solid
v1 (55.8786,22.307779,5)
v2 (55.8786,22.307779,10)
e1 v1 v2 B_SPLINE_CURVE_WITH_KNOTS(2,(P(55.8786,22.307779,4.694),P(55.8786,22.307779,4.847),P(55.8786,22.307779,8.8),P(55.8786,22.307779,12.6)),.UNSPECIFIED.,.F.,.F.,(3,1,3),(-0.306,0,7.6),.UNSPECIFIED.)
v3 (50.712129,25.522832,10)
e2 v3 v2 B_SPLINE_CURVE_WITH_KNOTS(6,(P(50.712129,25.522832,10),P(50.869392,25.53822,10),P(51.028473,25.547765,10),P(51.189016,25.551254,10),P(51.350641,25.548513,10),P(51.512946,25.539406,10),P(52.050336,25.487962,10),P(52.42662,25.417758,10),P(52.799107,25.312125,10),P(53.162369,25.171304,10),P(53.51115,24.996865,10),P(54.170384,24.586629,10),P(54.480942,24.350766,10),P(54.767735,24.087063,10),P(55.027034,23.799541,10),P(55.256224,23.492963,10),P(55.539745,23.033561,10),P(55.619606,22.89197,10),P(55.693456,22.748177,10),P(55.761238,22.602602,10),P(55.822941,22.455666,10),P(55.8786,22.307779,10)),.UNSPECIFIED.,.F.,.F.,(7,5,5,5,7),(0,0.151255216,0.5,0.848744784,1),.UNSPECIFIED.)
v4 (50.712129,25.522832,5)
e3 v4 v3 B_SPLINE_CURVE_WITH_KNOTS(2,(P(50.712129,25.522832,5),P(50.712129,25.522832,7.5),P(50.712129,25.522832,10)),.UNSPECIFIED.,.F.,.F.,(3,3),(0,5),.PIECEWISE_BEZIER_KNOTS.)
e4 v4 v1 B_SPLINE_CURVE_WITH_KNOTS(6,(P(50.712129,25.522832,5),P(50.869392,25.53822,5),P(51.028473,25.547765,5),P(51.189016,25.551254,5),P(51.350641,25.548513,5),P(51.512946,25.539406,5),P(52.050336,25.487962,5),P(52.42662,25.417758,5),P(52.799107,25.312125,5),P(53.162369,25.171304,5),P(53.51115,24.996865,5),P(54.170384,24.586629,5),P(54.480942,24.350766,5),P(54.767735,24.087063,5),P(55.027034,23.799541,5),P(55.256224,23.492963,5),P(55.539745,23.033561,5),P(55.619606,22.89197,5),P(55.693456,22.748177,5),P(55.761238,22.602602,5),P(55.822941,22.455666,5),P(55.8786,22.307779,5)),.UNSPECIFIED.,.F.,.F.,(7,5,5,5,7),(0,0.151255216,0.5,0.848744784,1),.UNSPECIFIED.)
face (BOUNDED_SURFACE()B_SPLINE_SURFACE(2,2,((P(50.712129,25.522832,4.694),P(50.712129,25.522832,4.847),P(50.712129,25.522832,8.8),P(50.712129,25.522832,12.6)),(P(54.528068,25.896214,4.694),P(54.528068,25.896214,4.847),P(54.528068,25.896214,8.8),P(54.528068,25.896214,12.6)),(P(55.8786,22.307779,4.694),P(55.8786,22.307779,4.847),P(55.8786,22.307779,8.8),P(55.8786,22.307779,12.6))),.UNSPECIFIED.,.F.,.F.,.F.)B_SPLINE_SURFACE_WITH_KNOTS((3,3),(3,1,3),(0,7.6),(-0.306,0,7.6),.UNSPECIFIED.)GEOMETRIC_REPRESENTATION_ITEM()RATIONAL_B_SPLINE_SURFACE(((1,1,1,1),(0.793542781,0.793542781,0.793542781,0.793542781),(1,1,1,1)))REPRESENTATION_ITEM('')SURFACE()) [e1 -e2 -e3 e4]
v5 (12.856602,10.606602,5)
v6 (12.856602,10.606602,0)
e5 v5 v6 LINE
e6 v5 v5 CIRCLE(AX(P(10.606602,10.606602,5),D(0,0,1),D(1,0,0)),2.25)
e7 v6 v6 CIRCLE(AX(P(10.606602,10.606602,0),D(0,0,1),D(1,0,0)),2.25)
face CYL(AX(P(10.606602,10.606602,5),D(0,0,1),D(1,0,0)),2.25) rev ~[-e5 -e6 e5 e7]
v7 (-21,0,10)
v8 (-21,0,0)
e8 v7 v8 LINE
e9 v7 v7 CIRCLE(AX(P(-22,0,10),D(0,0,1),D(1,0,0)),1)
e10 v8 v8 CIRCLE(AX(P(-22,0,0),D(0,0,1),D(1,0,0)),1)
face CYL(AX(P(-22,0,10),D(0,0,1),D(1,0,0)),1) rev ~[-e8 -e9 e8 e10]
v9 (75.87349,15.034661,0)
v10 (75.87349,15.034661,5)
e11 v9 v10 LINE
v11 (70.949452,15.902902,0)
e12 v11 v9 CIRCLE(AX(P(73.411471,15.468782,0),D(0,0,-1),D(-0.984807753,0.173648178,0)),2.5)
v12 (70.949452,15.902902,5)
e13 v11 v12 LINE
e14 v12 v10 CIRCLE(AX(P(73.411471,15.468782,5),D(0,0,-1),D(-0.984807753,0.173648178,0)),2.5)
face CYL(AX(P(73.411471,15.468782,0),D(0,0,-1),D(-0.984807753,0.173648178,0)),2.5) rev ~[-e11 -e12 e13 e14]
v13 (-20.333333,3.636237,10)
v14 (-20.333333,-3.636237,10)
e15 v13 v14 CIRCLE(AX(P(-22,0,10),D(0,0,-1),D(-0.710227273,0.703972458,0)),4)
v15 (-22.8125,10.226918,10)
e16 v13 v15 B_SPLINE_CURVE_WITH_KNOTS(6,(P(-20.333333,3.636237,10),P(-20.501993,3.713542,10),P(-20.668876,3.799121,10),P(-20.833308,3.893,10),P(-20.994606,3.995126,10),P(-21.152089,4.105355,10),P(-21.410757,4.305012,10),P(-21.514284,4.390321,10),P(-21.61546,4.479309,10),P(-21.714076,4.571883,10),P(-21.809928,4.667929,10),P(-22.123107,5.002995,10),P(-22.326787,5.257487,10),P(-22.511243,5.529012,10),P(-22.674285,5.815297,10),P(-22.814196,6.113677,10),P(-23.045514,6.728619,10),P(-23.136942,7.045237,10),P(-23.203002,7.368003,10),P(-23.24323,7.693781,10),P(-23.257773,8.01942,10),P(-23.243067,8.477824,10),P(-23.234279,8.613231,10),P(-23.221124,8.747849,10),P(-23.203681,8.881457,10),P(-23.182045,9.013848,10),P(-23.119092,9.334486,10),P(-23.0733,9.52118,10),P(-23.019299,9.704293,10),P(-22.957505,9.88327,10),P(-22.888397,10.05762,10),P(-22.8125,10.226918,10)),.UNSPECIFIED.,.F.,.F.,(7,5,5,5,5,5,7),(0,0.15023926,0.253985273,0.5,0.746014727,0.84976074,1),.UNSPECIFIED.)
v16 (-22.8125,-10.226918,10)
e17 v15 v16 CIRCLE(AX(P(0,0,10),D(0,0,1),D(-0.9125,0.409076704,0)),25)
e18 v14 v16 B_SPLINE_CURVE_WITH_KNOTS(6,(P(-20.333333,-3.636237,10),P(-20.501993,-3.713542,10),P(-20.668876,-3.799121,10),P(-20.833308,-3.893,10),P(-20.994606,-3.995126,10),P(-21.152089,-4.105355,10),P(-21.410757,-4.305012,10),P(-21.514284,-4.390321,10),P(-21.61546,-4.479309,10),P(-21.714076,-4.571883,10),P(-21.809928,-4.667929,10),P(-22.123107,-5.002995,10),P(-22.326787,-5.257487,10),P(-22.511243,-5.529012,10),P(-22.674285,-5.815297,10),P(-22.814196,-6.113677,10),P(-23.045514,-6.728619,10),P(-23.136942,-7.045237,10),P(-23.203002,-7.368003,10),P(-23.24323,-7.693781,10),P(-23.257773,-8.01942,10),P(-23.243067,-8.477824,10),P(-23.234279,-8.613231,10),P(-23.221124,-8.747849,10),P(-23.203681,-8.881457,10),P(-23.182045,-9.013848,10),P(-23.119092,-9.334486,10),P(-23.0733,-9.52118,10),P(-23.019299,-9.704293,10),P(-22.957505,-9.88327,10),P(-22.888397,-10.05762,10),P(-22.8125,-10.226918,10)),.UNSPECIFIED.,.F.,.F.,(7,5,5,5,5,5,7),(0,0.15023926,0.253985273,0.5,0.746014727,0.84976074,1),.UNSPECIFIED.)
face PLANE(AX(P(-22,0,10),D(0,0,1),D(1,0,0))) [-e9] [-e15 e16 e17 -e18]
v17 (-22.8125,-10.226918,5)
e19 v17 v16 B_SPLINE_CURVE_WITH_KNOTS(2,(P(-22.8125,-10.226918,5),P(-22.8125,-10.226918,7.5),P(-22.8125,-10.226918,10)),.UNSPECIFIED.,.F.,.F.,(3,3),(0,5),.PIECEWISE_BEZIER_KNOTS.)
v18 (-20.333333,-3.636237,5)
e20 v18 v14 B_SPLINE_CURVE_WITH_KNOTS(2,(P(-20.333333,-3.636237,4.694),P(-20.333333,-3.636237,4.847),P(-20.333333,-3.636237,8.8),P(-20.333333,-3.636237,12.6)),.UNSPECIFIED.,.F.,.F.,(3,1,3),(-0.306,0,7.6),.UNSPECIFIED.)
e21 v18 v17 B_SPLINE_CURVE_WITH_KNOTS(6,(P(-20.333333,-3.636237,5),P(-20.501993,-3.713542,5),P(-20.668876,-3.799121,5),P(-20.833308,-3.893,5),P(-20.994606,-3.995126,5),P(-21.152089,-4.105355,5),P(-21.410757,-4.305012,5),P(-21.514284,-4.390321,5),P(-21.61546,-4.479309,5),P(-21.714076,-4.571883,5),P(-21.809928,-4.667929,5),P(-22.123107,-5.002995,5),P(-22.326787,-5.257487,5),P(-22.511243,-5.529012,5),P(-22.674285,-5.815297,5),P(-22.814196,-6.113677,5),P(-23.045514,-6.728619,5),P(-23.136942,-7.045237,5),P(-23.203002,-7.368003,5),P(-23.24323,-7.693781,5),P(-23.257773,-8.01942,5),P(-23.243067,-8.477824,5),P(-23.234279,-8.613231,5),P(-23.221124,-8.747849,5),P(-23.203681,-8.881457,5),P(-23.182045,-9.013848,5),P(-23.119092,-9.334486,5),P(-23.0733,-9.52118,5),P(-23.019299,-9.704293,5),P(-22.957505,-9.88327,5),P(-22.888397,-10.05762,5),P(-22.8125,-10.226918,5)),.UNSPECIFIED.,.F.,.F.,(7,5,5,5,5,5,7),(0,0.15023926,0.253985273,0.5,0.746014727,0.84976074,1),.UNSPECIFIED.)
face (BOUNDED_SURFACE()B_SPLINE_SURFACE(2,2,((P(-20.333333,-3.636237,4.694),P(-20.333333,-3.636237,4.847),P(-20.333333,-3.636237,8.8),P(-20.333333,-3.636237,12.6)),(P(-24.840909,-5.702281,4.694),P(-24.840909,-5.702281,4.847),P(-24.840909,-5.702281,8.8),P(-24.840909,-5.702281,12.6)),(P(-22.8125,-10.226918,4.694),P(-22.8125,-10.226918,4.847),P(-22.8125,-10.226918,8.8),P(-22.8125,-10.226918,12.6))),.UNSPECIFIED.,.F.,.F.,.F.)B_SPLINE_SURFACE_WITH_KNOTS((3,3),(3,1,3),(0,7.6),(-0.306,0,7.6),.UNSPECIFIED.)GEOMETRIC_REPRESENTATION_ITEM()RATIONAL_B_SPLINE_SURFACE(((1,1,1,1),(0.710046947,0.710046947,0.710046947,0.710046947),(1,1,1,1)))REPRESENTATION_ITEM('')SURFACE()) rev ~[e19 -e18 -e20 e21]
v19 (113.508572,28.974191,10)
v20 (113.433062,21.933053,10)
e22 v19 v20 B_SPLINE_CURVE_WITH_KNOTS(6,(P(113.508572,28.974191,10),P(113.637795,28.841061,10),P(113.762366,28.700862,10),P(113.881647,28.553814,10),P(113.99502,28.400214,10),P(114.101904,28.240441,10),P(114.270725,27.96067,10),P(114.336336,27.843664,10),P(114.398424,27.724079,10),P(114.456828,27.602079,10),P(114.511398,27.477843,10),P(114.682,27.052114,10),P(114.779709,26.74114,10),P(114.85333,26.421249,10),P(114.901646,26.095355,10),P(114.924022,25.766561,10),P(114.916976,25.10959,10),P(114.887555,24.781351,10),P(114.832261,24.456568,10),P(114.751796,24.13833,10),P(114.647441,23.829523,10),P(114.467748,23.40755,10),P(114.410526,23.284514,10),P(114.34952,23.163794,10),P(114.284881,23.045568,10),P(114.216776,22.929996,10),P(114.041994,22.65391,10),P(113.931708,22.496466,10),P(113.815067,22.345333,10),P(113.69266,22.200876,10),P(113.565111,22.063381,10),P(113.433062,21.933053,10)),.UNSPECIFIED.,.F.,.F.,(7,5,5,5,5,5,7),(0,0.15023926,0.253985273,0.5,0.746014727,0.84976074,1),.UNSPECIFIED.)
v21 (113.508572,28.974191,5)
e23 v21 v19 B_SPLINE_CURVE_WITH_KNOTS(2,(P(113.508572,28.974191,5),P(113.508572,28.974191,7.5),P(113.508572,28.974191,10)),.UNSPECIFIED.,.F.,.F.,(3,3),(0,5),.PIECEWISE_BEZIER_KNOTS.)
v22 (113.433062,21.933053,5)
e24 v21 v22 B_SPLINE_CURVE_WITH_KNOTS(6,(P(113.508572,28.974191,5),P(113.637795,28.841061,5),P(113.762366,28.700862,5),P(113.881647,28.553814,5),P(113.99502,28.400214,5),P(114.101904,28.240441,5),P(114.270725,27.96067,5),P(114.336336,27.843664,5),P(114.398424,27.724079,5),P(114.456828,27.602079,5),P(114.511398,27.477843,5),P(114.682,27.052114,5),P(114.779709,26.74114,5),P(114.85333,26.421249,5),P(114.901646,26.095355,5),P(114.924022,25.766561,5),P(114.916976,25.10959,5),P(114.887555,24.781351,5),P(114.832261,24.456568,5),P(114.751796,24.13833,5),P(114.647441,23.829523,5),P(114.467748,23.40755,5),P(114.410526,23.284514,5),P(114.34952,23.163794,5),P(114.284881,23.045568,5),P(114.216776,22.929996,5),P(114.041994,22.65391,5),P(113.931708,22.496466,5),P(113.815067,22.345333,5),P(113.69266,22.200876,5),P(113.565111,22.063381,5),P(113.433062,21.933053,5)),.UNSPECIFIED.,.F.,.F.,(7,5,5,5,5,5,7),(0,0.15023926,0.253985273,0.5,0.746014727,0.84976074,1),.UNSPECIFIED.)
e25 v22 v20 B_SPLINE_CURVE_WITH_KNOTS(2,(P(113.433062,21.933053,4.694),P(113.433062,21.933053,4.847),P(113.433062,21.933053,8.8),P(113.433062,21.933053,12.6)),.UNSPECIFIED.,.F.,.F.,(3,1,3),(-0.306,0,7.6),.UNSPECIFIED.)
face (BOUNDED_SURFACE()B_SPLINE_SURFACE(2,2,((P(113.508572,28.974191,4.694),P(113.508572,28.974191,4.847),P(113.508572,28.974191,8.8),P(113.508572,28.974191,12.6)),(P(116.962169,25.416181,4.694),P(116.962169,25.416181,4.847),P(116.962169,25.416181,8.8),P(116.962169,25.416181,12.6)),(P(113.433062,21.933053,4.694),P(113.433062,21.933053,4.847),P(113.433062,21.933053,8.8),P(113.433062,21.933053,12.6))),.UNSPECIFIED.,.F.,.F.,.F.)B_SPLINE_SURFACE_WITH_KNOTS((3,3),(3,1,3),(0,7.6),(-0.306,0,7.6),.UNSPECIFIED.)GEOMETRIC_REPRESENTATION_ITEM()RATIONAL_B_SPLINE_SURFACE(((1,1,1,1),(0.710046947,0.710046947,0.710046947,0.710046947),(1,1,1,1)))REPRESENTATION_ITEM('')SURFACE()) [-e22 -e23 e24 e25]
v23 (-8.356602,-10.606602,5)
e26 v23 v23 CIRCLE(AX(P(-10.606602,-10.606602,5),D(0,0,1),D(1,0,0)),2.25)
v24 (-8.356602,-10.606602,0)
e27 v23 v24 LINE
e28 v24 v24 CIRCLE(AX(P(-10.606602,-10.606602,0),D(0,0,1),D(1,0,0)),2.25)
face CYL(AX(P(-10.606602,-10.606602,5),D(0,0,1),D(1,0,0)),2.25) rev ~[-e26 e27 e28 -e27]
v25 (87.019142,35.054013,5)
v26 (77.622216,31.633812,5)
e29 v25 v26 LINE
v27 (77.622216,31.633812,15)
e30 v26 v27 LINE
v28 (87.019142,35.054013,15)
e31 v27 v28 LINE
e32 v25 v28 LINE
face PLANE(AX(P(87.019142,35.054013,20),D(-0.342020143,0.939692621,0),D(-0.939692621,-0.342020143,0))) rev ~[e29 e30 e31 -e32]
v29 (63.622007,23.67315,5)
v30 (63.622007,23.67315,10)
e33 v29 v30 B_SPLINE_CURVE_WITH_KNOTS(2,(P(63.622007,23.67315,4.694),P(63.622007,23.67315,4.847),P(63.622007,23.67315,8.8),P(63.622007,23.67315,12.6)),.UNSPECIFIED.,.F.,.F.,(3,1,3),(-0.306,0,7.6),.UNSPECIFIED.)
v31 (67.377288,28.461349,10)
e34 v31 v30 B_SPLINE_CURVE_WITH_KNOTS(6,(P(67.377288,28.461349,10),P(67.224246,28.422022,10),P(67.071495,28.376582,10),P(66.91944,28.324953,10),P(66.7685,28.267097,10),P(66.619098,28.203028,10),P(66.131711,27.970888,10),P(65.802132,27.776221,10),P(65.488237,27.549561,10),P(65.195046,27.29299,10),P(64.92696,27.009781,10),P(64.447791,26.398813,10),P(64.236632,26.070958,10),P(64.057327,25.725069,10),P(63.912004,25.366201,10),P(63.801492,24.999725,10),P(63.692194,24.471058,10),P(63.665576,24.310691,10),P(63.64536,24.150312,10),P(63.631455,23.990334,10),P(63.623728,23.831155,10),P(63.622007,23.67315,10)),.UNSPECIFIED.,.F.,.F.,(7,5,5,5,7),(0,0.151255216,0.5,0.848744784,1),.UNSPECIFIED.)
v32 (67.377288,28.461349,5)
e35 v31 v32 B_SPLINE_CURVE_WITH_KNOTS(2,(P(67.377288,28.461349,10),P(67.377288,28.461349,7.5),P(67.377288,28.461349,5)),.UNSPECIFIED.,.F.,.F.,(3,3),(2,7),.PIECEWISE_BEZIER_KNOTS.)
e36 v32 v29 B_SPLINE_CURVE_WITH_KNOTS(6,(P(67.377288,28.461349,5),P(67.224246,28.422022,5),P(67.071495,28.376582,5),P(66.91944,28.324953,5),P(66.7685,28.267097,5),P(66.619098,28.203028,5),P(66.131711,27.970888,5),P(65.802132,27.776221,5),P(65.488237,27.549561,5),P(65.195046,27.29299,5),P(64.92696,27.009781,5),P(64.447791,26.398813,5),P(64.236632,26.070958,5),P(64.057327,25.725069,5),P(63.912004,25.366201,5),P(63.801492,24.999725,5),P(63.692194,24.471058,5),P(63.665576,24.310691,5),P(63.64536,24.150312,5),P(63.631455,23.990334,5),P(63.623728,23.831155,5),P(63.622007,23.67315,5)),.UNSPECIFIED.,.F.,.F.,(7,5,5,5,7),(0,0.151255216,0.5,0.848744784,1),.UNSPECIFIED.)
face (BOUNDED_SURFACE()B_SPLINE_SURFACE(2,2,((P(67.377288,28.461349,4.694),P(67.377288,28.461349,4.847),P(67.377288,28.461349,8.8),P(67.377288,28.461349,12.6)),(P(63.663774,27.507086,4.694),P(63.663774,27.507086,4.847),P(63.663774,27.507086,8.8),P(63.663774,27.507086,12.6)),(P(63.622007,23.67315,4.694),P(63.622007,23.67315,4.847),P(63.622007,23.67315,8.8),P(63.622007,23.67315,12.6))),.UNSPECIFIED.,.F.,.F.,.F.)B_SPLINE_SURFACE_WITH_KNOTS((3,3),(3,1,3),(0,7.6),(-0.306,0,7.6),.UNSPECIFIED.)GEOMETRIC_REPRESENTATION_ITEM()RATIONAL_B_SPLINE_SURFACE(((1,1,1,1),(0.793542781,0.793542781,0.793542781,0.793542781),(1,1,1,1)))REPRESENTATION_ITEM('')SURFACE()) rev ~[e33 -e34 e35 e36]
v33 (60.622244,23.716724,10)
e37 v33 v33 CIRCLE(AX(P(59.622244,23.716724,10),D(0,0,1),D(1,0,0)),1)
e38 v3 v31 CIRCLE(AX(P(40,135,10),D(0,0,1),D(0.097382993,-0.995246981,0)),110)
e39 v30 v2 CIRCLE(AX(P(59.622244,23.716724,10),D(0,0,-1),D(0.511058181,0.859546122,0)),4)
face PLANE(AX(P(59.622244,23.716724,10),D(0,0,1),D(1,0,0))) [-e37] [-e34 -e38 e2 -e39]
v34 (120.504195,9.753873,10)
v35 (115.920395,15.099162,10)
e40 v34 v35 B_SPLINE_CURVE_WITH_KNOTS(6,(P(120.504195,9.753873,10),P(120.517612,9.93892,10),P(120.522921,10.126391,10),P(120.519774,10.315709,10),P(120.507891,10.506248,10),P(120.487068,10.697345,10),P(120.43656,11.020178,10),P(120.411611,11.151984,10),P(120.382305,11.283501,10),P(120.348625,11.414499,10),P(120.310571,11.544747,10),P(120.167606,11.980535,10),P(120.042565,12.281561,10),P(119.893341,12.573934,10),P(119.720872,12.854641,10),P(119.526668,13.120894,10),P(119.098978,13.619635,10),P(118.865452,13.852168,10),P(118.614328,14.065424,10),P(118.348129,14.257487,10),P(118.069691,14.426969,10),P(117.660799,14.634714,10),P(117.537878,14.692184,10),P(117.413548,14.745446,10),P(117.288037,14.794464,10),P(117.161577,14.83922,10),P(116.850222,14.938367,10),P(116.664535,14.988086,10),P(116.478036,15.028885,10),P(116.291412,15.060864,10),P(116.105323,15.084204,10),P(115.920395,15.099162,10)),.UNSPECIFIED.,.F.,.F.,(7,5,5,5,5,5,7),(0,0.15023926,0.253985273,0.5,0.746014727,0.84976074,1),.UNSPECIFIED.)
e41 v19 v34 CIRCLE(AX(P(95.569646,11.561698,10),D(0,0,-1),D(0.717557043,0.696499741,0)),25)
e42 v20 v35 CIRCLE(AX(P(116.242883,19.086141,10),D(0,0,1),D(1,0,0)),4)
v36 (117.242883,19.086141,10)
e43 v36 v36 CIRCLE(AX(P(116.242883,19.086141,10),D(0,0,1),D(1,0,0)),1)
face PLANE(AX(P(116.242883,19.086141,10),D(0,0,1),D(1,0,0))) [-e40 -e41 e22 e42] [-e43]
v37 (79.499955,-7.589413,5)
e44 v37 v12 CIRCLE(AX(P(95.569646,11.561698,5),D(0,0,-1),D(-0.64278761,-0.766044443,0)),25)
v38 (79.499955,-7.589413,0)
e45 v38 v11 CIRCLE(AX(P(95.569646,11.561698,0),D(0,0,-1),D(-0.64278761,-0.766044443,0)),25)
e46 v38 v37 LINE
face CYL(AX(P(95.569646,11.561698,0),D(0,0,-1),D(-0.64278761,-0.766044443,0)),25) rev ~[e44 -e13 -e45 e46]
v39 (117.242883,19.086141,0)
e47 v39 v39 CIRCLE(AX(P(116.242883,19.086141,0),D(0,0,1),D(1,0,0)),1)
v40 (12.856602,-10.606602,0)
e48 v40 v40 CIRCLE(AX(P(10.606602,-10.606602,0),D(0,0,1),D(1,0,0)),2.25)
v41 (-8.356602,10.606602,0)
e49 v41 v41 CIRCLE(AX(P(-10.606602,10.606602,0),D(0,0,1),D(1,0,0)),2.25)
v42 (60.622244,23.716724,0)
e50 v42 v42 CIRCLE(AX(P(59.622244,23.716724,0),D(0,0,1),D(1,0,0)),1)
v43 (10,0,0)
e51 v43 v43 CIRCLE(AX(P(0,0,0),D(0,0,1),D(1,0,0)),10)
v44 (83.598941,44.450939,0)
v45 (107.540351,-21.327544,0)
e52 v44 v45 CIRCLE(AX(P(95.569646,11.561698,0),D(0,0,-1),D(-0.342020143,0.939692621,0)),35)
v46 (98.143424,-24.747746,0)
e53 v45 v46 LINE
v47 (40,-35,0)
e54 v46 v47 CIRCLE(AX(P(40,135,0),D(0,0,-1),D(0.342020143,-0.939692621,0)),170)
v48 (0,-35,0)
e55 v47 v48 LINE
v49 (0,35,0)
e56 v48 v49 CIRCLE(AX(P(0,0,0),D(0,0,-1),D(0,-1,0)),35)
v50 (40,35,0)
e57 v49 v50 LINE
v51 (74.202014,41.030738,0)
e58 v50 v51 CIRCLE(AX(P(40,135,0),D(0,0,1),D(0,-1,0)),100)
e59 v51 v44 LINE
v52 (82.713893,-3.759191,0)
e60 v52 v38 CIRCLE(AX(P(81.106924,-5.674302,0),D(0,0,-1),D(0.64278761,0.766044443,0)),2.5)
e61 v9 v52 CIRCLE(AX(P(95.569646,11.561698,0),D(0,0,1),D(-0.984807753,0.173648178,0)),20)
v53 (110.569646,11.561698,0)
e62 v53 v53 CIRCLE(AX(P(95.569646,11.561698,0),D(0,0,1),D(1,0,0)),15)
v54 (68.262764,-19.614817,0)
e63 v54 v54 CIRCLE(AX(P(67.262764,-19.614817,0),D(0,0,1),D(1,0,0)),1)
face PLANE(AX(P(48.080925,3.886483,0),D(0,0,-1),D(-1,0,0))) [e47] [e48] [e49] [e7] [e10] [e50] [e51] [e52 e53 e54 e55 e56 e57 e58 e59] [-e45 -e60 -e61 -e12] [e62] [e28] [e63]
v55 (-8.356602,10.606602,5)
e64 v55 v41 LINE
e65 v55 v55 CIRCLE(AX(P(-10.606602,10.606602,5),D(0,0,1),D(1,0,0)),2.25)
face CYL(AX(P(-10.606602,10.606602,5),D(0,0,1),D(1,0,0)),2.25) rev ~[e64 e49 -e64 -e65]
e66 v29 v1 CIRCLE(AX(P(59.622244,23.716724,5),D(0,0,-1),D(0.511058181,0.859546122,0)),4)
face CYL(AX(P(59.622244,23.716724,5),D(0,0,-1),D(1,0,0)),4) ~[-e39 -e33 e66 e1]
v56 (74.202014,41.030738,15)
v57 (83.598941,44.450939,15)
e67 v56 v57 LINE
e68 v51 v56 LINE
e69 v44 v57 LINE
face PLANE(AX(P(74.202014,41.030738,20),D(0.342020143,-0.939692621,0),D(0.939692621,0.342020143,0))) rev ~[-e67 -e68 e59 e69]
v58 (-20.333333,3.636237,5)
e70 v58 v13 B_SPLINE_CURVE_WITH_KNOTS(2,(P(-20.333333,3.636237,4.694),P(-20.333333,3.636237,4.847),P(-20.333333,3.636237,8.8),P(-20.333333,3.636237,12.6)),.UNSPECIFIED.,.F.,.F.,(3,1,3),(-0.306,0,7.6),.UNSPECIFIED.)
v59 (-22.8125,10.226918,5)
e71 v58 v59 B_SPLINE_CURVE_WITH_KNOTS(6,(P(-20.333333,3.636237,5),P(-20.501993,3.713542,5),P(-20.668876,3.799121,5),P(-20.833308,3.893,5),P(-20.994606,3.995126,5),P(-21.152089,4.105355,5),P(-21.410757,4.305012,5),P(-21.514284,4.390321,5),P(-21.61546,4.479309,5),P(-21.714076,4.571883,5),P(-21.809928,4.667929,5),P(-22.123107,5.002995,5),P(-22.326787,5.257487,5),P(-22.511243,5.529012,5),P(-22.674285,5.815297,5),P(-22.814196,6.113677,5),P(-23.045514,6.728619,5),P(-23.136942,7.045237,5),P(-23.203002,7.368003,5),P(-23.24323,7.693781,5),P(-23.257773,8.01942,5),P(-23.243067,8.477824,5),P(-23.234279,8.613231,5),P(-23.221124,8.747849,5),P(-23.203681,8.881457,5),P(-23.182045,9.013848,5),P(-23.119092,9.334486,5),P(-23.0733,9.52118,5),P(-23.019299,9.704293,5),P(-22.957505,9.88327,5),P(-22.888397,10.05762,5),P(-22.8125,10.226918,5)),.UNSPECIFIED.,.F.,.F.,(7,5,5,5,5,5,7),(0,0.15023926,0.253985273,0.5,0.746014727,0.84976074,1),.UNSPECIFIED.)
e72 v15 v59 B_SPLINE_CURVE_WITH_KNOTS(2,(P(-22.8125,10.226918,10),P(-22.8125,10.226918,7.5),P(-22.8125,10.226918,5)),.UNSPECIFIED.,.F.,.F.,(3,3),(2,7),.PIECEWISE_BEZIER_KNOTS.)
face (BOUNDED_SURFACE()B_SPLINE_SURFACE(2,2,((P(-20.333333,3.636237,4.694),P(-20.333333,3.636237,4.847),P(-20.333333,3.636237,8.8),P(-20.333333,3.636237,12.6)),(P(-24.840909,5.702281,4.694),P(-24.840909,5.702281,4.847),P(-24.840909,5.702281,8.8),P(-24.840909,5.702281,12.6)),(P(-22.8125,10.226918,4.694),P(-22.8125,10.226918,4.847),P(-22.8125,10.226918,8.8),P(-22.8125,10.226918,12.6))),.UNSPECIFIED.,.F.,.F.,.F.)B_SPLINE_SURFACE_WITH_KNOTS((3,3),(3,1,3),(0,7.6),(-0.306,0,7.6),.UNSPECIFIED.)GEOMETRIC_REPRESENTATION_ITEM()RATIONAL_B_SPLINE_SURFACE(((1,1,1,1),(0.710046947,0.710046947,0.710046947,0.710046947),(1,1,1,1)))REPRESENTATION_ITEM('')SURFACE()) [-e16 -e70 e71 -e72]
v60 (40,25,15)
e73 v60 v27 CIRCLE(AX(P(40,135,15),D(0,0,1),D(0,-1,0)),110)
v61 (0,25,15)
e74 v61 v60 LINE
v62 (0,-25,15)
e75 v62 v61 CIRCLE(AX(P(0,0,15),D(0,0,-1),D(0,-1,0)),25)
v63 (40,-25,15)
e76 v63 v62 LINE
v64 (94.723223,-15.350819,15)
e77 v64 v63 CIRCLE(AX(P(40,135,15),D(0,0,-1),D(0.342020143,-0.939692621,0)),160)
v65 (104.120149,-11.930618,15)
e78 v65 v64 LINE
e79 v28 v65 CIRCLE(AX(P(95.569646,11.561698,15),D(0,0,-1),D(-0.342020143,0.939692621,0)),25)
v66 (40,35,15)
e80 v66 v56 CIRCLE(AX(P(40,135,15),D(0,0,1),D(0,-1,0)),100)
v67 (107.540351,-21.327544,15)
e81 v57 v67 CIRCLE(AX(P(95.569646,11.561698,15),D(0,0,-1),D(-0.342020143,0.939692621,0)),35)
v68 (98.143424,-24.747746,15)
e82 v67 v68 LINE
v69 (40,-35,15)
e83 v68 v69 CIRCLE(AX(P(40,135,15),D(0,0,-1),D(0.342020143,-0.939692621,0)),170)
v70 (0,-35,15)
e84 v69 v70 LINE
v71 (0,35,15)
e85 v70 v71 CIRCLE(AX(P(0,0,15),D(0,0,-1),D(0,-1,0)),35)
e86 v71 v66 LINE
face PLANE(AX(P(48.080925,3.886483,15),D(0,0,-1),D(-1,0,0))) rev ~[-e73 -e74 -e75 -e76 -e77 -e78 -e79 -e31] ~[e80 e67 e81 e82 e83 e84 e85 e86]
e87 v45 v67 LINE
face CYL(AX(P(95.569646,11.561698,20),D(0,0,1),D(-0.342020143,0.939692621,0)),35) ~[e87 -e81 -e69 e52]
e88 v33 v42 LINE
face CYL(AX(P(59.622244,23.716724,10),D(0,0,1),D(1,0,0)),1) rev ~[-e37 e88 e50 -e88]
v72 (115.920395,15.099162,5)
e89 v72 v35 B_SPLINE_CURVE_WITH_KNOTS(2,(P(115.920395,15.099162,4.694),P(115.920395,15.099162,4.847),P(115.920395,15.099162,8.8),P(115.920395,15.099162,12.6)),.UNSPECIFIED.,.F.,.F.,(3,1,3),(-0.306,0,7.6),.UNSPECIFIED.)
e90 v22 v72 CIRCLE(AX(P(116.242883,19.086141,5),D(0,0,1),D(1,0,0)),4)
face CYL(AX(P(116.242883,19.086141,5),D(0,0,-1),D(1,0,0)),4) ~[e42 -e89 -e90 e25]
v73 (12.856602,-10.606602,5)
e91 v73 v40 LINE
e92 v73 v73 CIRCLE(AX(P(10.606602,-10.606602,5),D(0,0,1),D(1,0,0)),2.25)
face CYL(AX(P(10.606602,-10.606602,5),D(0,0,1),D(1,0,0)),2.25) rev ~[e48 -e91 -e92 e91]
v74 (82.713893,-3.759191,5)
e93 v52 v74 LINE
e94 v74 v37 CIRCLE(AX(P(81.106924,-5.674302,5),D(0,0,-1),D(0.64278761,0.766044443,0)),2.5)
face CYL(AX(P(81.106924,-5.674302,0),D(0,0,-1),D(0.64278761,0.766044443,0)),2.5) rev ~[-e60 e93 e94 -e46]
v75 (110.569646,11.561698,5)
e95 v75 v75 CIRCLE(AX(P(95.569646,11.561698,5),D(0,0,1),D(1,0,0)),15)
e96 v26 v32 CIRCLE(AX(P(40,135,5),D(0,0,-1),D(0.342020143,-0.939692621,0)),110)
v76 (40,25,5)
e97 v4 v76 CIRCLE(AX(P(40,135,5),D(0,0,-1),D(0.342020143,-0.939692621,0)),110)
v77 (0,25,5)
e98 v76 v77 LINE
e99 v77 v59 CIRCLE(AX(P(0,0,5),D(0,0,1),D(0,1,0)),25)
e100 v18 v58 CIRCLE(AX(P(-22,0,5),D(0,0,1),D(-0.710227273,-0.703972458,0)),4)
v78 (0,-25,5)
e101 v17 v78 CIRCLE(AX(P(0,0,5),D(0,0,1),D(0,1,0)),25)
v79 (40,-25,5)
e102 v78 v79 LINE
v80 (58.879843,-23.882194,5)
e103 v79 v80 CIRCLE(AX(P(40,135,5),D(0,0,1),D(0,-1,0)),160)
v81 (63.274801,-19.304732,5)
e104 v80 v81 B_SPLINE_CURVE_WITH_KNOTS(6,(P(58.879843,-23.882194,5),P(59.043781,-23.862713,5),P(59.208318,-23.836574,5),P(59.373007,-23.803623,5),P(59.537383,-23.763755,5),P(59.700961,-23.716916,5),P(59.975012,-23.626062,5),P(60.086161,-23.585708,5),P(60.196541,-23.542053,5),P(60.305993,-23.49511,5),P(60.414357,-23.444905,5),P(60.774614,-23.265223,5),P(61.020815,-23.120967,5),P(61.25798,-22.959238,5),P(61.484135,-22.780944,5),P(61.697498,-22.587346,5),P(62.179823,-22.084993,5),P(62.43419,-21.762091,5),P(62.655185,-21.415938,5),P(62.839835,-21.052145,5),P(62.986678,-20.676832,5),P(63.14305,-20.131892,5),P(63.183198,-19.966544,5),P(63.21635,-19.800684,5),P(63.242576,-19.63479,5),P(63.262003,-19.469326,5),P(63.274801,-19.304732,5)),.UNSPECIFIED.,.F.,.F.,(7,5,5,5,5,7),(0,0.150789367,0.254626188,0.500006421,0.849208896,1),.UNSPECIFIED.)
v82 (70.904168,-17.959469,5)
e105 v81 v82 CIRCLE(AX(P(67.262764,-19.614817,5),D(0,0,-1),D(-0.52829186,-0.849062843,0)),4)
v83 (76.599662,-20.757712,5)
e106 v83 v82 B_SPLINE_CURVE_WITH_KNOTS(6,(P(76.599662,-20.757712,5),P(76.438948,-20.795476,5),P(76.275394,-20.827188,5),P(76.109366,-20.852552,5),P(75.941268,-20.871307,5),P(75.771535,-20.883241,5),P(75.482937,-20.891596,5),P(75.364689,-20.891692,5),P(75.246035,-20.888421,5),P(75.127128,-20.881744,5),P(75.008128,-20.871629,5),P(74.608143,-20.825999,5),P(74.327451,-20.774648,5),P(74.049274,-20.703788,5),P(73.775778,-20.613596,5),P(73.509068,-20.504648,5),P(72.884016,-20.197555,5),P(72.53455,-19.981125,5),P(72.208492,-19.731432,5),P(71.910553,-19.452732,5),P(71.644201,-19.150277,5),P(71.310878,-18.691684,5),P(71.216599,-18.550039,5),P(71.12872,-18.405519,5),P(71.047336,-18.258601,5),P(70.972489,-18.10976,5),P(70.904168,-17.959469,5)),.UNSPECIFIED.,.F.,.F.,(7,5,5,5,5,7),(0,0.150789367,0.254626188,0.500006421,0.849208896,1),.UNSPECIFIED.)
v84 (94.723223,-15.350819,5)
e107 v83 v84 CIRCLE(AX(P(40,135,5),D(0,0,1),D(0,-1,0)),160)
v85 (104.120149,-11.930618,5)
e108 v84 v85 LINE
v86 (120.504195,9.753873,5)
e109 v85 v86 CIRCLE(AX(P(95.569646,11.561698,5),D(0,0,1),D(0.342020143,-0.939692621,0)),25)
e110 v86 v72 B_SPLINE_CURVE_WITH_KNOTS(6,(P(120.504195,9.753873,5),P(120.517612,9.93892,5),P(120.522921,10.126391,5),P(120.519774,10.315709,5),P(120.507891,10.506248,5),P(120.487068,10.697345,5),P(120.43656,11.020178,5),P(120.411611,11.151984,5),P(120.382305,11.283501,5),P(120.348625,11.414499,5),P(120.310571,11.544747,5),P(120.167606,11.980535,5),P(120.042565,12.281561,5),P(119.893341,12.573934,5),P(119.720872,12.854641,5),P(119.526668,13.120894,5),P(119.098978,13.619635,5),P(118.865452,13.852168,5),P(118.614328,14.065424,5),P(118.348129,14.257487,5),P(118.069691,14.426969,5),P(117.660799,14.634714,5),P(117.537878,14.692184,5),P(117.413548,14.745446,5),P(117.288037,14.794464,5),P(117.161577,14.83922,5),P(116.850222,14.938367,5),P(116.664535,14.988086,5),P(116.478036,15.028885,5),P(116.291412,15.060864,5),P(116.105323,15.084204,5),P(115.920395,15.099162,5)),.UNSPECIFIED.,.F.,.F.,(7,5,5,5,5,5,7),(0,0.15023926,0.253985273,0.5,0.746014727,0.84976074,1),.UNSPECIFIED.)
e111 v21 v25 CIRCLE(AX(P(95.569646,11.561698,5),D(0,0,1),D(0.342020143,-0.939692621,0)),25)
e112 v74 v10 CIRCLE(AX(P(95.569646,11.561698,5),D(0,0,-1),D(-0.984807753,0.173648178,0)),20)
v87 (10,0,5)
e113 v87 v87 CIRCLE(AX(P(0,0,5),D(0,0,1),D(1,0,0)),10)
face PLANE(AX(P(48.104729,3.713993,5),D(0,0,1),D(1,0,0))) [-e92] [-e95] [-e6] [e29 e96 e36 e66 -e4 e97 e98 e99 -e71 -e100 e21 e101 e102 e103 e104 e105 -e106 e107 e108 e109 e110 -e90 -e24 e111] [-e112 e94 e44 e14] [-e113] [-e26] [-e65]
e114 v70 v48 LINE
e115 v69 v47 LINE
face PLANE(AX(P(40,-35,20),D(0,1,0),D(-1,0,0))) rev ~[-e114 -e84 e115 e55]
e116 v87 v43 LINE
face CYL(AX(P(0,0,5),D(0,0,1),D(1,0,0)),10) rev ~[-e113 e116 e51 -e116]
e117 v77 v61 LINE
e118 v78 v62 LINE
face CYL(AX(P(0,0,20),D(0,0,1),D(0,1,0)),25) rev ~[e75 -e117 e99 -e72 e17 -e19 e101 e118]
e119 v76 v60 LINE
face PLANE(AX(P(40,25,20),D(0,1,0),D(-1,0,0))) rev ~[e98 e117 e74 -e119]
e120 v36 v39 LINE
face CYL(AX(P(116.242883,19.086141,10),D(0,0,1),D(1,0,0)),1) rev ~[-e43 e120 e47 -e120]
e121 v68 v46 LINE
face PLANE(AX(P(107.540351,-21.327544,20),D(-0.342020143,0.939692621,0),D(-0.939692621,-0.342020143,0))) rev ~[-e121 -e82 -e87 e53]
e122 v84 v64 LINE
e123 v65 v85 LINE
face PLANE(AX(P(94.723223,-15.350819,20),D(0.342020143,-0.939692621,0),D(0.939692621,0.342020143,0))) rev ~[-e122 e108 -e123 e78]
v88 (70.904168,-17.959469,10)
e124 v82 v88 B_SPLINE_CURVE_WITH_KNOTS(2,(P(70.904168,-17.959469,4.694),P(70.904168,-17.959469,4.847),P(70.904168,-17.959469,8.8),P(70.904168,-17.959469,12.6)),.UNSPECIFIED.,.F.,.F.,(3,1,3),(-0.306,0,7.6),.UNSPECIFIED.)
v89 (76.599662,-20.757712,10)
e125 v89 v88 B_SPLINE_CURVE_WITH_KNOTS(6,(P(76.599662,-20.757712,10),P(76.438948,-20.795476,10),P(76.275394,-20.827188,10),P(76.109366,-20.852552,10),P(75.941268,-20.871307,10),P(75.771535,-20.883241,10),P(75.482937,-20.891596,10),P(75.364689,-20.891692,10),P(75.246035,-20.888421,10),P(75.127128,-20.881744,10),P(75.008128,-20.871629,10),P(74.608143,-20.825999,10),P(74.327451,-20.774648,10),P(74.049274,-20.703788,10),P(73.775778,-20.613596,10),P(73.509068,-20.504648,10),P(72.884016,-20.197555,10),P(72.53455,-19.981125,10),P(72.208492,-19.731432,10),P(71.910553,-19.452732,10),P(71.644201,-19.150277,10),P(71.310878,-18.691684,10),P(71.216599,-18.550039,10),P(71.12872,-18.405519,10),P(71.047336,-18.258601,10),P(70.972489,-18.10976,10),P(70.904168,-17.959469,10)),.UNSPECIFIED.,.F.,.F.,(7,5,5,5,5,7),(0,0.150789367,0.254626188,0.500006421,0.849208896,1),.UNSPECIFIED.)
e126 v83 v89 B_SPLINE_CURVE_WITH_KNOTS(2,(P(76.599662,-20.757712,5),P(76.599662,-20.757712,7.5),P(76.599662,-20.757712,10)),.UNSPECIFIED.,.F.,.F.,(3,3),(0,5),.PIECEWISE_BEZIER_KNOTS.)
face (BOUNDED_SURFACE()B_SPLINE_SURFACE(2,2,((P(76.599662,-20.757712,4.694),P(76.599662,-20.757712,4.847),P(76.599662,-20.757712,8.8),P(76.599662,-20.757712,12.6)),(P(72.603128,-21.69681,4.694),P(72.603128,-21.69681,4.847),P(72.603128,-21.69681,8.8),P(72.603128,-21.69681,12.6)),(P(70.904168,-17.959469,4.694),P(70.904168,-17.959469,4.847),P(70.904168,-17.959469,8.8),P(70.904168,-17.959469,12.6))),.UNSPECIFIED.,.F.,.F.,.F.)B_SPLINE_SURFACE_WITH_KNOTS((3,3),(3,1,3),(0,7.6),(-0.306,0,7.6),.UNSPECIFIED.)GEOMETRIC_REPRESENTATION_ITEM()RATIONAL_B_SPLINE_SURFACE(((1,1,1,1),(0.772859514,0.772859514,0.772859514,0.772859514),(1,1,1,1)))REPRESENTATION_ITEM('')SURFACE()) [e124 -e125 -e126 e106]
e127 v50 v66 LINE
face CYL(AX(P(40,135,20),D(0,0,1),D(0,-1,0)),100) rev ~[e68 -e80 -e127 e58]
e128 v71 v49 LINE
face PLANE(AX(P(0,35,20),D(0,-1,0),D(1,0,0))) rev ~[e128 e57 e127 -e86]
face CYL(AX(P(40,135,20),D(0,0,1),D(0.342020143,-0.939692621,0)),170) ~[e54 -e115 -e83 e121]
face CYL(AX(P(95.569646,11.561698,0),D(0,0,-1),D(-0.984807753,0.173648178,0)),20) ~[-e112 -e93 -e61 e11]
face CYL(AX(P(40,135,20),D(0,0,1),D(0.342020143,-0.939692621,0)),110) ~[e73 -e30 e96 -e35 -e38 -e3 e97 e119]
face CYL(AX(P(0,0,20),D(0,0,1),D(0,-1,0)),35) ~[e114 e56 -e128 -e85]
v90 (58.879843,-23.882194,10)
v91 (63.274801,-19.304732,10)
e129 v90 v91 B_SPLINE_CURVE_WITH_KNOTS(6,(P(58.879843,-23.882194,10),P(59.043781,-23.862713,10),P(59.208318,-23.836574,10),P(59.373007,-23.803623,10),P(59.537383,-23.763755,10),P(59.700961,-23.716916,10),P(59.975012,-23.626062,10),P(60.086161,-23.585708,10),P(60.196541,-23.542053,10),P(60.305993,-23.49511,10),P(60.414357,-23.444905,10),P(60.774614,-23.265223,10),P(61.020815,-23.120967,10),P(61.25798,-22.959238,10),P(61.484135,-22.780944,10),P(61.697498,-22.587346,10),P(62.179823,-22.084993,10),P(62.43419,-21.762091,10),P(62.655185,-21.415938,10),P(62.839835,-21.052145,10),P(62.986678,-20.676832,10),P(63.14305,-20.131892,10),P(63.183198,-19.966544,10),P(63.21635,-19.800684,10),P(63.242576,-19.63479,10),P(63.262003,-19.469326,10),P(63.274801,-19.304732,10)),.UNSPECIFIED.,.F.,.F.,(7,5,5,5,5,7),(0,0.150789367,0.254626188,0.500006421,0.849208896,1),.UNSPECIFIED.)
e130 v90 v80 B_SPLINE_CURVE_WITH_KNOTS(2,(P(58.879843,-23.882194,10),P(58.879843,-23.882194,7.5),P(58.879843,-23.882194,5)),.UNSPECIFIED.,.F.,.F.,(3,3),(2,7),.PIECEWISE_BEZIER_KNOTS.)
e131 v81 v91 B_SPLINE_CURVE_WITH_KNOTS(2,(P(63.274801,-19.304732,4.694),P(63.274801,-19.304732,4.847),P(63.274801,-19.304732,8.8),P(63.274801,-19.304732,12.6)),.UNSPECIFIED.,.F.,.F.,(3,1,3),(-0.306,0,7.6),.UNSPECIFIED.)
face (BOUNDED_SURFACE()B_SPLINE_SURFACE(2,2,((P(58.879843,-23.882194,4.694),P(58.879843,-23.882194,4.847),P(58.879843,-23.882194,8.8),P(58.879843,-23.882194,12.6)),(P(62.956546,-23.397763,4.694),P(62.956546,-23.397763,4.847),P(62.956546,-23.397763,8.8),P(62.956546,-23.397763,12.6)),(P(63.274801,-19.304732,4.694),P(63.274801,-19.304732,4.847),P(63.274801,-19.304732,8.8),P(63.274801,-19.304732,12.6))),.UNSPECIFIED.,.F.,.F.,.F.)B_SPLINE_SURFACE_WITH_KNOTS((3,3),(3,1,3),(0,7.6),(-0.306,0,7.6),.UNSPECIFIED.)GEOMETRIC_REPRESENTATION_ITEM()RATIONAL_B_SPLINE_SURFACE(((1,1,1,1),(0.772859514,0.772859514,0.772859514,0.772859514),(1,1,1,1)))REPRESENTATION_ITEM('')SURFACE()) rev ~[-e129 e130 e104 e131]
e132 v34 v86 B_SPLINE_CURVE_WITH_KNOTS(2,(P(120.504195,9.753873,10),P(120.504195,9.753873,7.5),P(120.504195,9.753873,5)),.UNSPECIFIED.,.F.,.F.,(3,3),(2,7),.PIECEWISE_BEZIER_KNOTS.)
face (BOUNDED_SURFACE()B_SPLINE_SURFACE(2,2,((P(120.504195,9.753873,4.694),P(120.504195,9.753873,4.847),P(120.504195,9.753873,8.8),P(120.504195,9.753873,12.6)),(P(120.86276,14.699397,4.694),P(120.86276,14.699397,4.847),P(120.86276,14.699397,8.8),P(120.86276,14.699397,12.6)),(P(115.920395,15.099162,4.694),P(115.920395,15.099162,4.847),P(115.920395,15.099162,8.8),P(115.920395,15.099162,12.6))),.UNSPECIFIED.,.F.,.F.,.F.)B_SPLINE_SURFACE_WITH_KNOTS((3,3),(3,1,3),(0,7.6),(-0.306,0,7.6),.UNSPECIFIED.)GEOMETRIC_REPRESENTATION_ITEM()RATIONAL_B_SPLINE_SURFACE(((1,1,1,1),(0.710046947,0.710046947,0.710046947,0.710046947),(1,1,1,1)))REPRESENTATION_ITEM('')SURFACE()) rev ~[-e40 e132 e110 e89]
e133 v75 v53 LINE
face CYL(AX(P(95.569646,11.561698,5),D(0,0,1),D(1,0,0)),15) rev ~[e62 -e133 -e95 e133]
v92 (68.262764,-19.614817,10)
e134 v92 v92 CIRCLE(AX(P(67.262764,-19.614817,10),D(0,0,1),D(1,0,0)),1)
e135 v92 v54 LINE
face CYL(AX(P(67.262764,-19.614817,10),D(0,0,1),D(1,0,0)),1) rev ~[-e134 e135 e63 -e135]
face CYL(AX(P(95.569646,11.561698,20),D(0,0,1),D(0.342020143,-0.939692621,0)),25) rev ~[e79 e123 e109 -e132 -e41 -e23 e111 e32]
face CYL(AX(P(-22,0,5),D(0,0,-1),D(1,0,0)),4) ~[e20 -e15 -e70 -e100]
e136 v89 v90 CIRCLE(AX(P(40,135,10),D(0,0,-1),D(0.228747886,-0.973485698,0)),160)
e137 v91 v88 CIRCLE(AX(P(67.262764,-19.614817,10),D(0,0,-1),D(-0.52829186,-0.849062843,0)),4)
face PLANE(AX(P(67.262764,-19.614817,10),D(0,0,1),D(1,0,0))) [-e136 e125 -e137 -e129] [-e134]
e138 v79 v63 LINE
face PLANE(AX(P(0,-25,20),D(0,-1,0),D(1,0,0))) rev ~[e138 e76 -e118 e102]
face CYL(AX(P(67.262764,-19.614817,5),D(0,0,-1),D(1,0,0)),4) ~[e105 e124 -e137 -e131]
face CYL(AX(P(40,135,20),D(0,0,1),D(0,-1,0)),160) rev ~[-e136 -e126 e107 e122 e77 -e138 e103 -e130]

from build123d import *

# Parameters (mm, degrees)
EXTRUDE_1_DEPTH     = 20
CHAMFER_1_SIZE      = 10
CUT_EXTRUDE_1_DEPTH = 15
SKETCH_3_R          = 15
CUT_EXTRUDE_2_DEPTH = 20
SKETCH_4_R          = 2.25
SKETCH_4_R_2        = 10
CUT_EXTRUDE_3_DEPTH = 20
SKETCH_5_R          = 4
EXTRUDE_3_DEPTH     = 5
FILLET_1_R          = 5
SKETCH_6_R          = 1
CUT_EXTRUDE_4_DEPTH = 10
FILLET_2_R          = 5
CUT_EXTRUDE_5_REACH = 22
EXTRUDE_4_DEPTH     = 13
CUT_EXTRUDE_6_DEPTH = 5


with BuildPart() as part:
    # 스케치1 → 보스-돌출1 (new body)
    with BuildSketch(Plane.XY):
        with BuildLine():
            Line((0, 35), (40, 35))
            ThreePointArc((40, 35), (57.364817767, 36.519224699), (74.202014333, 41.030737921))
            Line((74.202014333, 41.030737921), (83.59894054, 44.450939355))
            ThreePointArc((83.59894054, 44.450939355), (128.458887284, 23.532402644), (107.540350573, -21.3275441))
            Line((107.540350573, -21.3275441), (98.143424365, -24.747745534))
            ThreePointArc((98.143424365, -24.747745534), (69.520190203, -32.417318012), (40, -35))
            Line((40, -35), (0, -35))
            ThreePointArc((0, -35), (-35, 0), (0, 35))
        make_face()
    extrude(amount=EXTRUDE_1_DEPTH)

    # 모따기1
    chamfer_1_edges = [part.edges().sort_by_distance(p)[0] for p in [
        (128.458887284, 23.532402644, 20),
        (78.900477436, 42.740838638, 20),
        (57.364817767, 36.519224699, 20),
        (20, 35, 20),
        (-35, 0, 20),
        (20, -35, 20),
        (69.520190203, -32.417318012, 20),
        (102.841887469, -23.037644817, 20),
    ]]
    chamfer(chamfer_1_edges, length=CHAMFER_1_SIZE)

    # 스케치2 → 컷-돌출1 (cut)
    with BuildSketch(Plane.XY.offset(20)):
        with BuildLine():
            Line((40, 25), (0, 25))
            ThreePointArc((0, 25), (-25, 0), (0, -25))
            Line((0, -25), (40, -25))
            ThreePointArc((40, -25), (67.783708427, -22.569240482), (94.723222932, -15.350819326))
            Line((94.723222932, -15.350819326), (104.12014914, -11.930617892))
            ThreePointArc((104.12014914, -11.930617892), (119.061961076, 20.11220121), (87.019141974, 35.054013147))
            Line((87.019141974, 35.054013147), (77.622215766, 31.633811714))
            ThreePointArc((77.622215766, 31.633811714), (59.101299543, 26.671147169), (40, 25))
        make_face()
    extrude(amount=-CUT_EXTRUDE_1_DEPTH, mode=Mode.SUBTRACT)

    # 스케치3 → 컷-돌출2 (cut)
    with BuildSketch(Plane.XY.offset(5)):
        with Locations((95.569645557, 11.561697627)):
            Circle(SKETCH_3_R)
    extrude(amount=-CUT_EXTRUDE_2_DEPTH, mode=Mode.SUBTRACT)

    # 스케치4 → 컷-돌출3 (cut)
    with BuildSketch(Plane.XY.offset(5)):
        with Locations((-10.606601718, 10.606601718)):
            Circle(SKETCH_4_R)
        with Locations((10.606601718, 10.606601718)):
            Circle(SKETCH_4_R)
        with Locations((10.606601718, -10.606601718)):
            Circle(SKETCH_4_R)
        with Locations((-10.606601718, -10.606601718)):
            Circle(SKETCH_4_R)
        Circle(SKETCH_4_R_2)
    extrude(amount=-CUT_EXTRUDE_3_DEPTH, mode=Mode.SUBTRACT)

    # 스케치5 → 보스-돌출3 (add)
    with BuildSketch(Plane.XY.offset(5)):
        with Locations((-22, 0)):
            Circle(SKETCH_5_R)
        with Locations((116.242883214, 19.08614078)):
            Circle(SKETCH_5_R)
        with Locations((59.622244076, 23.71672391)):
            Circle(SKETCH_5_R)
        with Locations((67.262763894, -19.614817223)):
            Circle(SKETCH_5_R)
    extrude(amount=EXTRUDE_3_DEPTH)

    # 필렛1
    fillet_1_edges = [part.edges().sort_by_distance(p)[0] for p in [
        (-24.840909091, -2.81588983, 7.5),
        (-24.840909091, 2.81588983, 7.5),
        (117.94937348, 22.703859809, 7.5),
        (119.875555567, 17.41171802, 7.5),
        (61.666476802, 27.154908396, 7.5),
        (56.525365318, 26.248391731, 7.5),
        (70.410078123, -22.083503744, 7.5),
        (65.149596455, -23.011068594, 7.5),
    ]]
    fillet(fillet_1_edges, radius=FILLET_1_R)

    # 스케치6 → 컷-돌출4 (cut)
    with BuildSketch(Plane.XY.offset(10)):
        with Locations((59.622244076, 23.71672391)):
            Circle(SKETCH_6_R)
        with Locations((67.262763894, -19.614817223)):
            Circle(SKETCH_6_R)
        with Locations((-22, 0)):
            Circle(SKETCH_6_R)
        with Locations((116.242883214, 19.08614078)):
            Circle(SKETCH_6_R)
    extrude(amount=-CUT_EXTRUDE_4_DEPTH, mode=Mode.SUBTRACT)

    # 필렛2
    fillet_2_edges = [part.edges().sort_by_distance(p)[0] for p in [
        (128.458887284, 23.532402644, 10),
        (78.900477436, 42.740838638, 10),
        (102.841887469, -23.037644817, 10),
        (57.364817767, 36.519224699, 10),
        (69.520190203, -32.417318012, 10),
        (20, 35, 10),
        (20, -35, 10),
        (-35, 0, 10),
    ]]
    fillet(fillet_2_edges, radius=FILLET_2_R)

    # 스케치8 → 컷-돌출5 (cut, up to next)
    with BuildSketch(Plane(origin=(0, 0, 0), x_dir=(-1, 0, 0), z_dir=(0, 0, -1)), mode=Mode.PRIVATE) as cut_extrude_5_sk1:
        with BuildLine():
            ThreePointArc((-79.499955315, -7.589413451), (-72.077330037, 3.011194044), (-70.949451732, 15.902902069))
            ThreePointArc((-70.949451732, 15.902902069), (-73.845591558, 17.930801007), (-75.873490497, 15.03466118))
            ThreePointArc((-75.873490497, 15.03466118), (-76.775793141, 4.721294761), (-82.713893363, -3.759191235))
            ThreePointArc((-82.713893363, -3.759191235), (-83.022035447, -7.281271367), (-79.499955315, -7.589413451))
        make_face()
    cut_extrude_5_tool1 = extrude(cut_extrude_5_sk1.sketch, amount=-CUT_EXTRUDE_5_REACH, mode=Mode.PRIVATE) & part.part
    add(cut_extrude_5_tool1.solids().sort_by_distance((75.648018, 4.310818, 0))[0], mode=Mode.SUBTRACT)

    # 스케치9 → 보스-돌출4 (add)
    with BuildSketch(Plane(origin=(0, 0, 20), x_dir=(-1, 0, 0), z_dir=(0, 0, -1))):
        with BuildLine():
            Line((-107.540350573, -21.3275441), (-98.143424365, -24.747745534))
            ThreePointArc((-98.143424365, -24.747745534), (-69.520190203, -32.417318012), (-40, -35))
            Line((-40, -35), (0, -35))
            ThreePointArc((0, -35), (35, 0), (0, 35))
            Line((0, 35), (-40, 35))
            ThreePointArc((-40, 35), (-57.364817767, 36.519224699), (-74.202014333, 41.030737921))
            Line((-74.202014333, 41.030737921), (-83.59894054, 44.450939355))
            ThreePointArc((-83.59894054, 44.450939355), (-128.458887284, 23.532402644), (-107.540350573, -21.3275441))
        make_face()
        with BuildLine():
            Line((-104.12014914, -11.930617892), (-94.723222932, -15.350819326))
            ThreePointArc((-94.723222932, -15.350819326), (-67.783708427, -22.569240482), (-40, -25))
            Line((-40, -25), (0, -25))
            ThreePointArc((0, -25), (13.589095993, -20.984195722), (22.8125, -10.226917607))
            ThreePointArc((22.8125, -10.226917607), (25, 0), (22.8125, 10.226917607))
            ThreePointArc((22.8125, 10.226917607), (13.589095993, 20.984195722), (0, 25))
            Line((0, 25), (-40, 25))
            ThreePointArc((-40, 25), (-59.101299543, 26.671147169), (-77.622215766, 31.633811714))
            Line((-77.622215766, 31.633811714), (-87.019141974, 35.054013147))
            ThreePointArc((-87.019141974, 35.054013147), (-119.061961076, 20.11220121), (-104.12014914, -11.930617892))
        make_face(mode=Mode.SUBTRACT)
    extrude(amount=EXTRUDE_4_DEPTH)

    # 스케치10 → 컷-돌출6 (cut)
    with BuildSketch(Plane(origin=(0, 0, 20), x_dir=(-1, 0, 0), z_dir=(0, 0, -1))):
        with BuildLine():
            Line((-74.202014333, 41.030737921), (-83.59894054, 44.450939355))
            ThreePointArc((-83.59894054, 44.450939355), (-128.458887284, 23.532402644), (-107.540350573, -21.3275441))
            Line((-107.540350573, -21.3275441), (-98.143424365, -24.747745534))
            ThreePointArc((-98.143424365, -24.747745534), (-69.520190203, -32.417318012), (-40, -35))
            Line((-40, -35), (0, -35))
            ThreePointArc((0, -35), (35, 0), (0, 35))
            Line((0, 35), (-40, 35))
            ThreePointArc((-40, 35), (-57.364817767, 36.519224699), (-74.202014333, 41.030737921))
        make_face()
        with BuildLine():
            Line((-40, -25), (0, -25))
            ThreePointArc((0, -25), (25, 0), (0, 25))
            Line((0, 25), (-40, 25))
            ThreePointArc((-40, 25), (-59.101299543, 26.671147169), (-77.622215766, 31.633811714))
            Line((-77.622215766, 31.633811714), (-87.019141974, 35.054013147))
            ThreePointArc((-87.019141974, 35.054013147), (-119.061961076, 20.11220121), (-104.12014914, -11.930617892))
            Line((-104.12014914, -11.930617892), (-94.723222932, -15.350819326))
            ThreePointArc((-94.723222932, -15.350819326), (-67.783708427, -22.569240482), (-40, -25))
        make_face(mode=Mode.SUBTRACT)
    extrude(amount=CUT_EXTRUDE_6_DEPTH, mode=Mode.SUBTRACT)


solid = part.part
